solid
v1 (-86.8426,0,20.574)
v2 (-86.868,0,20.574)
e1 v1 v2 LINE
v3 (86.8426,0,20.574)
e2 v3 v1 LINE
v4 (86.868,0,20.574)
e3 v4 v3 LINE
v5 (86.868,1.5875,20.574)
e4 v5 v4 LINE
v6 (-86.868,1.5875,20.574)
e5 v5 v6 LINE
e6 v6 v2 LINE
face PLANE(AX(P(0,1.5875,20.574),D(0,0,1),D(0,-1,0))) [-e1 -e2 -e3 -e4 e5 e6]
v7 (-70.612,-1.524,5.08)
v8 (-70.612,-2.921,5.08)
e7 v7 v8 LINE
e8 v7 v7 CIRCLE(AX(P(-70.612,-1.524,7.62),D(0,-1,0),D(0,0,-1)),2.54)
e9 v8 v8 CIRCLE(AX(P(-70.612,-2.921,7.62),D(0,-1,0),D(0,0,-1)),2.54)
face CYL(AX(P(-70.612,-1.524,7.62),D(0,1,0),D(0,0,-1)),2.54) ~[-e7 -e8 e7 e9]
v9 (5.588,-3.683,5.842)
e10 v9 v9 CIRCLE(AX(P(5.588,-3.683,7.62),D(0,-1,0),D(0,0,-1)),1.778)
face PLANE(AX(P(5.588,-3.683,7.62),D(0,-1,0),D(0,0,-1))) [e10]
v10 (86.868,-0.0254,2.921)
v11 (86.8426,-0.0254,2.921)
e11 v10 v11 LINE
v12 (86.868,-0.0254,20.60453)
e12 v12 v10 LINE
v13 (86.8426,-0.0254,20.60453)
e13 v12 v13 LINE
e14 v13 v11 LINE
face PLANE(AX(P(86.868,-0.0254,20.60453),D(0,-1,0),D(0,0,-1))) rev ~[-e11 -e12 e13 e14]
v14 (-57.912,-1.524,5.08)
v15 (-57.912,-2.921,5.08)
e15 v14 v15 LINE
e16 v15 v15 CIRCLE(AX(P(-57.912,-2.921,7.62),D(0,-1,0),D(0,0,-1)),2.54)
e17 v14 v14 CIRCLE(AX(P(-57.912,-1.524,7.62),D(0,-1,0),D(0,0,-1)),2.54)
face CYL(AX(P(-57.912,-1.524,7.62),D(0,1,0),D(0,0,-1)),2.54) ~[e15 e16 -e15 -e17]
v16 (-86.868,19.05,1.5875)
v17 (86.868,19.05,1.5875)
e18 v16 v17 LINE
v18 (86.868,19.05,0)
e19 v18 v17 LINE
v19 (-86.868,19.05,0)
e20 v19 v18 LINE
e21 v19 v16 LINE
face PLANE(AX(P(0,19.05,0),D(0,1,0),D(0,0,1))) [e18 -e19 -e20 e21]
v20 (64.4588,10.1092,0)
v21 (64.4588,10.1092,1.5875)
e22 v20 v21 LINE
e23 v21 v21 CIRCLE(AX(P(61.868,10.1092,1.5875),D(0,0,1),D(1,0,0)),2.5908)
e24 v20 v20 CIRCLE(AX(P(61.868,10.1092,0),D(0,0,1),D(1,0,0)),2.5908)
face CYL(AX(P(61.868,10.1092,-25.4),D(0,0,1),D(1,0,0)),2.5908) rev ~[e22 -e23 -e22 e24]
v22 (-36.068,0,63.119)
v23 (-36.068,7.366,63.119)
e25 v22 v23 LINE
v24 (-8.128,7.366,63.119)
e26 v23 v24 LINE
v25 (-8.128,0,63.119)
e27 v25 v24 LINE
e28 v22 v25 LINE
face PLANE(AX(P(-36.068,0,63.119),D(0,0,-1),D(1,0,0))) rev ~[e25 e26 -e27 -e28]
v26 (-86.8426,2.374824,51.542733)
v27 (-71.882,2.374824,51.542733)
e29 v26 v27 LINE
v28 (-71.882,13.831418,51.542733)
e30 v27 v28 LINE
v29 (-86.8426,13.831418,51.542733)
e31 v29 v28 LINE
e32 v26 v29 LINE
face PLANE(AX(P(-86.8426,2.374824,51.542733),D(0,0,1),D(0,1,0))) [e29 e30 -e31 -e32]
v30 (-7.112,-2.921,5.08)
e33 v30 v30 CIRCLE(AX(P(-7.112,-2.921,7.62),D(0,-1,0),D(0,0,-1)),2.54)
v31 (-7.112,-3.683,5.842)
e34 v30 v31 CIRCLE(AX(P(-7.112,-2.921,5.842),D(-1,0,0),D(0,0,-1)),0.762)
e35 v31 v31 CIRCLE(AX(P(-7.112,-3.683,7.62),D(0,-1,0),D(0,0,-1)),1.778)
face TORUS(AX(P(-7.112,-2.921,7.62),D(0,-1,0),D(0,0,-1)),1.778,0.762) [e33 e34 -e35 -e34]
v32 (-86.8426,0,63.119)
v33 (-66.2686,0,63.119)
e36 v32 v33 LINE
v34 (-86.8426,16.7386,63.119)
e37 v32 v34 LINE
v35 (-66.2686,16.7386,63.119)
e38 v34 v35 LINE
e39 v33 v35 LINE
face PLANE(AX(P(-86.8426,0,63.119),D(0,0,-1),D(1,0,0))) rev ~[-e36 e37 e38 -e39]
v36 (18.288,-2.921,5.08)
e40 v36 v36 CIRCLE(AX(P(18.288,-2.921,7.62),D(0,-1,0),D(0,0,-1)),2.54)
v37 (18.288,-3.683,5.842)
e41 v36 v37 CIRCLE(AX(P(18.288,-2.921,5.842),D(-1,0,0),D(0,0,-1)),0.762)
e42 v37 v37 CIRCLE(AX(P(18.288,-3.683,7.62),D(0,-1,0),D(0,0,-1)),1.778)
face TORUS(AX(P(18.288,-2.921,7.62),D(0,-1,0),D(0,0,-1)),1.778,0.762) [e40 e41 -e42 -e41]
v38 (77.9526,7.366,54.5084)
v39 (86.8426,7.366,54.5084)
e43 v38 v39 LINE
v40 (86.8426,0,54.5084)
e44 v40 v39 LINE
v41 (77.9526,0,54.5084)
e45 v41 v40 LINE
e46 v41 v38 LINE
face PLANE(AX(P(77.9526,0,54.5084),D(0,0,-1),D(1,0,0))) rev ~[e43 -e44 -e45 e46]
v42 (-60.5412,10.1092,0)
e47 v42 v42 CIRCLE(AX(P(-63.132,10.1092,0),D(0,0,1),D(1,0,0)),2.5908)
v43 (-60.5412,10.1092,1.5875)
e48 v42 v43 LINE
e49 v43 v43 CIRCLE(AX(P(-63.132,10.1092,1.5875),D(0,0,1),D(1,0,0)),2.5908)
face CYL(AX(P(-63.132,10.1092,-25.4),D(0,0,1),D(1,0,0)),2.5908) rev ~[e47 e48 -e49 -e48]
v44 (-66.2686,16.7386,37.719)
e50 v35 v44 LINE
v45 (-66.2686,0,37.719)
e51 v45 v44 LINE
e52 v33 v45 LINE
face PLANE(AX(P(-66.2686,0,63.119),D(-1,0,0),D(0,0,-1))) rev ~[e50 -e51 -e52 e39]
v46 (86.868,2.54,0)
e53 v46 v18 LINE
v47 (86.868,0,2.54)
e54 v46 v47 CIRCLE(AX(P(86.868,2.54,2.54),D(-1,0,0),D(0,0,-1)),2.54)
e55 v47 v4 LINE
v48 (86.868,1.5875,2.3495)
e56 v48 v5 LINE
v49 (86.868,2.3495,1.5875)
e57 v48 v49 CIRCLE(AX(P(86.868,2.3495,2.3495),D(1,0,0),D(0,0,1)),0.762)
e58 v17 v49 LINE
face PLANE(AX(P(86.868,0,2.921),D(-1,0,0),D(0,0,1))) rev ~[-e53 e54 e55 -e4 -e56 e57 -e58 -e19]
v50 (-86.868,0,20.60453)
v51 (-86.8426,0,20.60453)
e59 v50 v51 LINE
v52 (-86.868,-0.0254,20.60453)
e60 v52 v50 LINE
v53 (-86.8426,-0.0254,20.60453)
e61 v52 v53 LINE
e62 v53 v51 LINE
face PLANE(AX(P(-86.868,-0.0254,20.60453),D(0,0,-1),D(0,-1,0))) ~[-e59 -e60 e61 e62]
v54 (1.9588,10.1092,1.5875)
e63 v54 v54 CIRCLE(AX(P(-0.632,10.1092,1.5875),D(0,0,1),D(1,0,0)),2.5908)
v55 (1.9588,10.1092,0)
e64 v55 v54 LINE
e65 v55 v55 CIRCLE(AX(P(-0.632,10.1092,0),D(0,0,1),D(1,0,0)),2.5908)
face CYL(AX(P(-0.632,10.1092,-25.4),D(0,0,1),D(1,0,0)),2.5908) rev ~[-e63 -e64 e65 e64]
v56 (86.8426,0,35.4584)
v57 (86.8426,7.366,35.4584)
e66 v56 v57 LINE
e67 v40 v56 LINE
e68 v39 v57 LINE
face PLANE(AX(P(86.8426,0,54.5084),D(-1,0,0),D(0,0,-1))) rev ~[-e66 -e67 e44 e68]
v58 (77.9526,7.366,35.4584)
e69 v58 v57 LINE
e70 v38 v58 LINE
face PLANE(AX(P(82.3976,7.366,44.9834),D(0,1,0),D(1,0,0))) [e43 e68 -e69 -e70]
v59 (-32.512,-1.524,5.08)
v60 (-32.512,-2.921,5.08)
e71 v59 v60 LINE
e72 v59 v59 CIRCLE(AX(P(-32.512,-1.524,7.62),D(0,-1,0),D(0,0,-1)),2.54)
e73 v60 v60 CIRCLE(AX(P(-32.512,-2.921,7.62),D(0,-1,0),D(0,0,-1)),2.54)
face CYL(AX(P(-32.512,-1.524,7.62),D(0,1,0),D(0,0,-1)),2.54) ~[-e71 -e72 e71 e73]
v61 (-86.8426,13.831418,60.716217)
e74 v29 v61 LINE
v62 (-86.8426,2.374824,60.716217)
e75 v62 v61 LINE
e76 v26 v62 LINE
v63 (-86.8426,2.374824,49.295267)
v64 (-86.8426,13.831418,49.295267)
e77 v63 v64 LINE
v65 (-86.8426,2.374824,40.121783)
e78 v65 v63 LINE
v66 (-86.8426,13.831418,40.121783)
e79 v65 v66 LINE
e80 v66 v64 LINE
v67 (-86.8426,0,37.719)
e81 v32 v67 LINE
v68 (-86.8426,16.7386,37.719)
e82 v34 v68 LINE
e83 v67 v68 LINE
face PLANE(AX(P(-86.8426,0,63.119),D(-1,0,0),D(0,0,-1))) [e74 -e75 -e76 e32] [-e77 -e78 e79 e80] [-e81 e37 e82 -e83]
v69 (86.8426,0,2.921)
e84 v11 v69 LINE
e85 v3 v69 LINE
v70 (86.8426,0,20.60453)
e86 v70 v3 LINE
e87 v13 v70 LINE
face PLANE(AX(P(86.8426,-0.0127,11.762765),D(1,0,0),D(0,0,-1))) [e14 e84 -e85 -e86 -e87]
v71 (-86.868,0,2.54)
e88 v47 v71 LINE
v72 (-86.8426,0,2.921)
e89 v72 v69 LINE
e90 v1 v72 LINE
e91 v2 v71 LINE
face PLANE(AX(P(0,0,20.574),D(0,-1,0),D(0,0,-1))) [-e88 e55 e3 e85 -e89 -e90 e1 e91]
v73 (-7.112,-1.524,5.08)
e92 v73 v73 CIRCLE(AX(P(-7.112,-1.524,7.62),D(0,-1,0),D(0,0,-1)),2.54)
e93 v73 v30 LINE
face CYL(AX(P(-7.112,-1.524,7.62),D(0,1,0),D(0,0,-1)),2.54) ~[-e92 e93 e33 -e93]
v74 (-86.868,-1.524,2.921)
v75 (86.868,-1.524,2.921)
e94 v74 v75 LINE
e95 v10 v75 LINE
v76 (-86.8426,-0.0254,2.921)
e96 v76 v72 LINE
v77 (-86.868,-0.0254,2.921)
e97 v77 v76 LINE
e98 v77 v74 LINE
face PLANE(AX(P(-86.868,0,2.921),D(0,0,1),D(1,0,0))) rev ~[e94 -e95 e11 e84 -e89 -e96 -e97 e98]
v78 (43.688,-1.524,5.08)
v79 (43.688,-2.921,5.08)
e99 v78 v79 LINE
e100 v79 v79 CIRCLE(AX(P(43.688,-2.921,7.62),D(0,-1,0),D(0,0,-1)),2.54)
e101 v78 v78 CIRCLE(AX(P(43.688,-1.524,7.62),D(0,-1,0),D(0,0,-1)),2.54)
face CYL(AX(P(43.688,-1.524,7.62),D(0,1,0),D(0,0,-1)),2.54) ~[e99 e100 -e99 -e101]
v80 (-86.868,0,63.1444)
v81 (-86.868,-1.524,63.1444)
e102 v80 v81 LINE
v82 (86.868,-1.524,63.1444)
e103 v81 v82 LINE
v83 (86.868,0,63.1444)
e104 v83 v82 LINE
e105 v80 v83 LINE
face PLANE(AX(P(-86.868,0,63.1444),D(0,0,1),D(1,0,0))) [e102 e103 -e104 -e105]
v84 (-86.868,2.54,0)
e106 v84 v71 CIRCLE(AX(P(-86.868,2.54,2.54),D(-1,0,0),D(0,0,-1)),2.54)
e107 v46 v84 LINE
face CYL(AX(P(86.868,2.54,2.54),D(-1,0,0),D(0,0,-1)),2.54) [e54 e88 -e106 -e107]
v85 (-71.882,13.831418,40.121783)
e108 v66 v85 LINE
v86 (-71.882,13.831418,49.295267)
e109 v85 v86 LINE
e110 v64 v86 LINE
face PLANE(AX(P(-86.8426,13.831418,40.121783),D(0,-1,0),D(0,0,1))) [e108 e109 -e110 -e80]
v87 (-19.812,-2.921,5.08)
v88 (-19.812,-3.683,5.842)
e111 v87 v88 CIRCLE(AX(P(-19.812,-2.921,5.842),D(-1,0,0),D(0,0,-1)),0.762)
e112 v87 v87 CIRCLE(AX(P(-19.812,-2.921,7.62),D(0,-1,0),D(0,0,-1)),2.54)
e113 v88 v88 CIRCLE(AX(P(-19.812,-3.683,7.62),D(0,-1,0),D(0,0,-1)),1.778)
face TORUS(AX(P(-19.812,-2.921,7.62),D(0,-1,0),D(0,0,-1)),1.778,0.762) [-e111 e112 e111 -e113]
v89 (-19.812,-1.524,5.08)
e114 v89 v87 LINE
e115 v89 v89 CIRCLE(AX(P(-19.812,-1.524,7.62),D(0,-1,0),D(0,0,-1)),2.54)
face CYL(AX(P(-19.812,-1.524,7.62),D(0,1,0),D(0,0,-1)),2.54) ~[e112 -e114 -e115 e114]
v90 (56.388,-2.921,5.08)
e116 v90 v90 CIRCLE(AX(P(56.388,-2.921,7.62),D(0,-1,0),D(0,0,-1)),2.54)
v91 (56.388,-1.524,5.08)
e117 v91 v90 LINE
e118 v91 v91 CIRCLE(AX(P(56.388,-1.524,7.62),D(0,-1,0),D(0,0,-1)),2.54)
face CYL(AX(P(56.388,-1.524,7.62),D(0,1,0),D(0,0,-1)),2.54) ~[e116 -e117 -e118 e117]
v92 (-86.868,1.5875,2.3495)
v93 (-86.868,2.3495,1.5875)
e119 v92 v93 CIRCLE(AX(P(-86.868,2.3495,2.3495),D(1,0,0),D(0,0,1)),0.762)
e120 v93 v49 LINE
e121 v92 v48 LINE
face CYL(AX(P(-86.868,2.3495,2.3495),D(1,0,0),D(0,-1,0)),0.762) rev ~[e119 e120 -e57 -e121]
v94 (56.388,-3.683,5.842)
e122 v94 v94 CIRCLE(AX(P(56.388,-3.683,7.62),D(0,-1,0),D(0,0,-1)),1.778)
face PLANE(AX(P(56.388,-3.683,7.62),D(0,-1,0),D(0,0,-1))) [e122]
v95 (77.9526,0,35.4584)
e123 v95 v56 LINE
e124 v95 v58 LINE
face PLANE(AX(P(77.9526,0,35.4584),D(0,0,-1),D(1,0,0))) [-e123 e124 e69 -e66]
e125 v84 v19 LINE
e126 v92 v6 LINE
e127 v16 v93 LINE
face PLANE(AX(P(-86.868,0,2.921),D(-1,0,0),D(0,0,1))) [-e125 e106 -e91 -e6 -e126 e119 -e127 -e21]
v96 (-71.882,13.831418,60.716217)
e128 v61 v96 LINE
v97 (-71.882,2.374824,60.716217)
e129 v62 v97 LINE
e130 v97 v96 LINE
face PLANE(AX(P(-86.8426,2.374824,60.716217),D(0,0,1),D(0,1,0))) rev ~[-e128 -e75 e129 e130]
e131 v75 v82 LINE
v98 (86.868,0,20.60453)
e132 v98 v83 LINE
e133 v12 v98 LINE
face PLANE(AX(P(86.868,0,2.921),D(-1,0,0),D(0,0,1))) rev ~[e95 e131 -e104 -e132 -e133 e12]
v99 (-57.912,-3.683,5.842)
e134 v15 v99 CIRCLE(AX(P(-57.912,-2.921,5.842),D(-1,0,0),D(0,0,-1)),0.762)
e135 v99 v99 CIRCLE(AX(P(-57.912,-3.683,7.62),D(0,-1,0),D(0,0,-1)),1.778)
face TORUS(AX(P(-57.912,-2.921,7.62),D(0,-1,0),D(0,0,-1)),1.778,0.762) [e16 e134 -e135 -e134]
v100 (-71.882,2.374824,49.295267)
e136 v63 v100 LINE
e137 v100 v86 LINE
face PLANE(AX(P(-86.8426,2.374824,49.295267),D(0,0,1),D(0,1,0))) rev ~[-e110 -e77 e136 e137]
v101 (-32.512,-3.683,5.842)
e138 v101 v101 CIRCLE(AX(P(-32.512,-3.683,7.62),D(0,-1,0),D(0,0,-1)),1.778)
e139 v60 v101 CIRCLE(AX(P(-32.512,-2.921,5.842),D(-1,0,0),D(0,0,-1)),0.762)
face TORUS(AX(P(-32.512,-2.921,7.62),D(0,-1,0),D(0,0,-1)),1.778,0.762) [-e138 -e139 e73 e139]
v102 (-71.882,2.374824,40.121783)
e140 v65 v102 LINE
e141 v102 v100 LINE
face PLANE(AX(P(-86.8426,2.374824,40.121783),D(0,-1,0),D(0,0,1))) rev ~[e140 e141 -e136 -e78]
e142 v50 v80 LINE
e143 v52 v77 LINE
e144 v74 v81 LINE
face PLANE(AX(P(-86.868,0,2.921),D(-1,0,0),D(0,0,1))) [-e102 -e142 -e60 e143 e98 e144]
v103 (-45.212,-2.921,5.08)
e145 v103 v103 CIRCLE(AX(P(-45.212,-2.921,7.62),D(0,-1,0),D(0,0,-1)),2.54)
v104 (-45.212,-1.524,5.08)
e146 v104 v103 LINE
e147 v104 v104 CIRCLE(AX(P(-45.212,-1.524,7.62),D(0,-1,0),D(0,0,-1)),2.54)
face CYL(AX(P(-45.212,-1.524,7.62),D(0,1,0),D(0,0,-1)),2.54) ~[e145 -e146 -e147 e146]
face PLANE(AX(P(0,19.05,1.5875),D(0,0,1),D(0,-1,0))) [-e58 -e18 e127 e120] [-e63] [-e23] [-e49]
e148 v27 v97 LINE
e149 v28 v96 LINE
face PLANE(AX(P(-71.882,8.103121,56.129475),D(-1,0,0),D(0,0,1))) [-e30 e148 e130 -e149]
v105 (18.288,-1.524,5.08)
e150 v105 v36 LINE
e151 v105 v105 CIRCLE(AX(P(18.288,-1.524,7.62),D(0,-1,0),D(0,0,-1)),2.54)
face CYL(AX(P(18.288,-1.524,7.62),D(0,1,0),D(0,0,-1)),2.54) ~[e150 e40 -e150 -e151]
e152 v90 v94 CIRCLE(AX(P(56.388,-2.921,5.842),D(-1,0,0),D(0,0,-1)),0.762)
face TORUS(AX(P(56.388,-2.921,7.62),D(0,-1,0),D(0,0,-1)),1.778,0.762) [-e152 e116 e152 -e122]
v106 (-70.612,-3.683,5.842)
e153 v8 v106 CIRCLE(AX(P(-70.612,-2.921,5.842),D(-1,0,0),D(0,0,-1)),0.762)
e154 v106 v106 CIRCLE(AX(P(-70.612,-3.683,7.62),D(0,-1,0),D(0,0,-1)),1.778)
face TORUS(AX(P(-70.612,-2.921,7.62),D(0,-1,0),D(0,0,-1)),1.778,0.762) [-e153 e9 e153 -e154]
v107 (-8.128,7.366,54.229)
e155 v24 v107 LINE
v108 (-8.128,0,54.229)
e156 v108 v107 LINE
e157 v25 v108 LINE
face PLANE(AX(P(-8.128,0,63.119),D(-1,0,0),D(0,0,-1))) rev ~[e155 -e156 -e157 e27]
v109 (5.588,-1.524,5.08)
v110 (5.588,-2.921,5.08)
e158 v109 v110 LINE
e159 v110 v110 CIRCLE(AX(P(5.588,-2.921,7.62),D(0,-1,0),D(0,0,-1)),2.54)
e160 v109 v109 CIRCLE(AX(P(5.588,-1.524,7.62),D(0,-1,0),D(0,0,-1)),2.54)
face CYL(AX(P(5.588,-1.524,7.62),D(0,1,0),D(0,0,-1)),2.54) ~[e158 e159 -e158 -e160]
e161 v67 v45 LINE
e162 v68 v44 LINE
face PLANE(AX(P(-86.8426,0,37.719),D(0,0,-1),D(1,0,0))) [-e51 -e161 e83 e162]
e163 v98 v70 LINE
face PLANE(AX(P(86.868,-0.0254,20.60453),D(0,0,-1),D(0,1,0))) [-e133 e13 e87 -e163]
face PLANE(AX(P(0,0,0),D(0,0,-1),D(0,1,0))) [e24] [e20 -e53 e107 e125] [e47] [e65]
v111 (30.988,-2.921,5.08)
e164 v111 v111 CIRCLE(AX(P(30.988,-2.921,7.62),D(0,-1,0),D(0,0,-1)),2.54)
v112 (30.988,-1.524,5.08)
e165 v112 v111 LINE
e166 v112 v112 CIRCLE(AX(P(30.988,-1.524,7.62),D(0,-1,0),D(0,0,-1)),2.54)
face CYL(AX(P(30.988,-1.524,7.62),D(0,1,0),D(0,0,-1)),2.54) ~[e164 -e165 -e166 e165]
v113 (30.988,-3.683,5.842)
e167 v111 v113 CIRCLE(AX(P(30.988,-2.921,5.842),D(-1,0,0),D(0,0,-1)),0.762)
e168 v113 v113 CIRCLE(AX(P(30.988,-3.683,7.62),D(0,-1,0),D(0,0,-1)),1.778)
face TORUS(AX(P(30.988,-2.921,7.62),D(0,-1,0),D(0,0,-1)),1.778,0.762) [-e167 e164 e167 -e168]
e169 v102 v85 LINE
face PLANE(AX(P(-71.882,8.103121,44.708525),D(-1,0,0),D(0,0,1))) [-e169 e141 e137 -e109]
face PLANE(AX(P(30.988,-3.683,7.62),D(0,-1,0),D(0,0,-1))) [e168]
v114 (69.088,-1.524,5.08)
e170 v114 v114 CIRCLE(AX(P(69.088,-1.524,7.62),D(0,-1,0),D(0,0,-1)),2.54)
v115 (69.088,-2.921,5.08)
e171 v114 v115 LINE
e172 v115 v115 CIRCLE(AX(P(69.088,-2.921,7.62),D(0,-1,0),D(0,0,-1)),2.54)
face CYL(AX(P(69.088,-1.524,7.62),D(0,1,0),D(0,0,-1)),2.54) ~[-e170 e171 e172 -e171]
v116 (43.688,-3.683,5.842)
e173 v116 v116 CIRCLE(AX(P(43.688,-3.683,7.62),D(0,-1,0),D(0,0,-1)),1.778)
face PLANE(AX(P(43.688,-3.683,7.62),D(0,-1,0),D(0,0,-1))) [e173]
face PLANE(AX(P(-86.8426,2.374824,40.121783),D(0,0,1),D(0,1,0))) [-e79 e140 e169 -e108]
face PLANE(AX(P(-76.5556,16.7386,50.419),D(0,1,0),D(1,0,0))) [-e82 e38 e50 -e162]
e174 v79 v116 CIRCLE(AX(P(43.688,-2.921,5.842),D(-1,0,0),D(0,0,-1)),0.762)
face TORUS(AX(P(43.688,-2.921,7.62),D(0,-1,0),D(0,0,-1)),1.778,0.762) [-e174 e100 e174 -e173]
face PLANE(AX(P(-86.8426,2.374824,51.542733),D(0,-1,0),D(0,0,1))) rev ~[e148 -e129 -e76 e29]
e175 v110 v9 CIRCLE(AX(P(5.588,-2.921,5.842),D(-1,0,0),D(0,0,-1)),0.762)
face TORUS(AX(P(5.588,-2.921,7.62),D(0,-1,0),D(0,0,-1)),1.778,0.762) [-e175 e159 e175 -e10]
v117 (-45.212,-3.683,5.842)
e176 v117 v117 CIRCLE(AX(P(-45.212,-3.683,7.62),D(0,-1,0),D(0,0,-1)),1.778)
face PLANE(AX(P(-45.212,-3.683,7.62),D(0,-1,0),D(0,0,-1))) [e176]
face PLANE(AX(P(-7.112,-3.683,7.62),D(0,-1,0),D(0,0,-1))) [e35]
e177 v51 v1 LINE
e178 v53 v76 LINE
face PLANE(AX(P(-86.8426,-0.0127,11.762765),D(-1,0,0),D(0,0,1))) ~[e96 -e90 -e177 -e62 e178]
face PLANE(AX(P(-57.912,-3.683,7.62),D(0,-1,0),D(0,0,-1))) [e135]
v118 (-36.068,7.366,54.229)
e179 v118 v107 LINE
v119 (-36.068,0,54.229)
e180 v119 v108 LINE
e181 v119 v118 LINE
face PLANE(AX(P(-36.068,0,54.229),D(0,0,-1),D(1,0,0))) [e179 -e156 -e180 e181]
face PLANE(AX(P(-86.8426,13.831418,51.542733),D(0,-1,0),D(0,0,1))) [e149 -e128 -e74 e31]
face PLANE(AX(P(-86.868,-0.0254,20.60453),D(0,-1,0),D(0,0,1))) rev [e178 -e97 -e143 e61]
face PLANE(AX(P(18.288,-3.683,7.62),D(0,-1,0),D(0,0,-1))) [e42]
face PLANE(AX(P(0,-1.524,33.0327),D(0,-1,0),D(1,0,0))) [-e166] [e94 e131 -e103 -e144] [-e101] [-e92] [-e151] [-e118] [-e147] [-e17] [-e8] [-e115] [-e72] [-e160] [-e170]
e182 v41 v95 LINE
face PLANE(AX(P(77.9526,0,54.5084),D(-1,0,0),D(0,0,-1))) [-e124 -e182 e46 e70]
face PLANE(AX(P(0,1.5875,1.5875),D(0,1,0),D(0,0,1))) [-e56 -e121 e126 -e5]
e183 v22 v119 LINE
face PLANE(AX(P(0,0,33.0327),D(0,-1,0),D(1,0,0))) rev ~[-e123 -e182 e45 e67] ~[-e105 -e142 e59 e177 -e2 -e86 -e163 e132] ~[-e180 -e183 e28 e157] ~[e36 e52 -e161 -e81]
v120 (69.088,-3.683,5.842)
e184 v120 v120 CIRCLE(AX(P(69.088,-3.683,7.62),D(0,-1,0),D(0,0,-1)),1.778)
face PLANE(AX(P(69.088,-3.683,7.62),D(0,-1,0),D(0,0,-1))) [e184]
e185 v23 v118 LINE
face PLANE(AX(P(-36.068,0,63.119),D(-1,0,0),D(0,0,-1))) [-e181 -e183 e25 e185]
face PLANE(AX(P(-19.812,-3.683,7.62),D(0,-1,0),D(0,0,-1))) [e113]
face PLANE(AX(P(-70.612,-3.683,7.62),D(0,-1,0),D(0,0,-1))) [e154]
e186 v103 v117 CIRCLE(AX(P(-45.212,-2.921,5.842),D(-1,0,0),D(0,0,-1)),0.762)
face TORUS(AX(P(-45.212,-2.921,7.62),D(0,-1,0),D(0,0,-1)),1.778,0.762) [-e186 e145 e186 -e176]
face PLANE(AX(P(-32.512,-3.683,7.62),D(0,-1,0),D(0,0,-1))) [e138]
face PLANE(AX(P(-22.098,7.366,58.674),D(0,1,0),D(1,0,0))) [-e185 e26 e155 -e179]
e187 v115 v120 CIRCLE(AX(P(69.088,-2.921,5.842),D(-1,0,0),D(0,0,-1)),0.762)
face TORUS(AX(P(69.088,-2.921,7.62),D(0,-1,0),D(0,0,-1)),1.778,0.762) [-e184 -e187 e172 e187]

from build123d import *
from OCP.BRepFilletAPI import BRepFilletAPI_MakeFillet

# Parameters (mm, degrees)
BOSS_EXTRUDE1_DEPTH            = 86.868
FILLET1_R1                     = 2.54
FILLET1_R2                     = 0.762
SKETCH2_W                      = 173.736
SKETCH2_H                      = 60.2234
BOSS_EXTRUDE2_DEPTH            = 1.524
F_6_0_204_DIAMETER_HOLE1_D     = 5.1816
F_6_0_204_DIAMETER_HOLE1_DEPTH = 25.4
F_6_0_204_DIAMETER_HOLE1_TIP   = 1.556709692
SKETCH6_W                      = 8.89
SKETCH6_H                      = 19.05
SKETCH6_W_2                    = 27.94
SKETCH6_H_2                    = 8.89
BOSS_EXTRUDE3_DEPTH            = 7.366
SKETCH7_W                      = 20.574
SKETCH7_H                      = 25.4
BOSS_EXTRUDE4_DEPTH            = 16.7386
SKETCH8_W                      = 9.173483792
SKETCH8_H                      = 11.456594165
CUT_EXTRUDE1_DEPTH             = 14.9606
SKETCH9_R                      = 2.54
BOSS_EXTRUDE5_DEPTH            = 2.159
FILLET2_R                      = 0.762
LPATTERN1_COUNT                = 12
LPATTERN1_PITCH                = 12.7
FILLET2_OF_LPATTERN1_R         = 0.762
SKETCH10_W                     = 17.683529791
SKETCH10_H                     = 0.0254
CUT_EXTRUDE3_DEPTH             = 0.0254


with BuildPart() as part:
    # Sketch1 → Boss-Extrude1 (new, symmetric)
    with BuildSketch(Plane(origin=(0, 0, 0), x_dir=(0, 0, -1), z_dir=(1, 0, 0))):
        Polygon((0, 0), (0, 19.05), (-1.5875, 19.05), (-1.5875, 1.5875), (-20.574, 1.5875), (-20.574, 0), align=None)
    extrude(amount=BOSS_EXTRUDE1_DEPTH, both=True)

    # Fillet1: one fillet with a radius per group of edges: ONE call of the kernel's fillet builder (fillet() takes one radius for all edges)
    fillet1_edges_1 = [part.edges().sort_by_distance(p)[0] for p in [
        (0, 0, 0),
    ]]
    fillet1_edges_2 = [part.edges().sort_by_distance(p)[0] for p in [
        (0, 1.5875, 1.5875),
    ]]
    fillet1 = BRepFilletAPI_MakeFillet(part.part.solid().wrapped)
    for e in fillet1_edges_1:
        fillet1.Add(FILLET1_R1, e.wrapped)
    for e in fillet1_edges_2:
        fillet1.Add(FILLET1_R2, e.wrapped)
    add(Compound.cast(fillet1.Shape()), mode=Mode.REPLACE)

    # Sketch2 → Boss-Extrude2 (add)
    with BuildSketch(Plane.XZ):
        with Locations((0, 33.0327)):
            Rectangle(SKETCH2_W, SKETCH2_H)
    extrude(amount=BOSS_EXTRUDE2_DEPTH)

    # #6 (0.204) Diameter Hole1
    with Locations(Plane(origin=(0, 0, 0), x_dir=(-1, 0, 0), z_dir=(0, 0, -1))):
        with Locations((-61.868, 10.1092), (0.632000006, 10.1092), (63.132, 10.1092)):
            Hole(F_6_0_204_DIAMETER_HOLE1_D / 2, depth=F_6_0_204_DIAMETER_HOLE1_DEPTH)
            with Locations((0, 0, -(F_6_0_204_DIAMETER_HOLE1_DEPTH + F_6_0_204_DIAMETER_HOLE1_TIP / 2))):  # 118° drill point
                Cone(0, F_6_0_204_DIAMETER_HOLE1_D / 2, F_6_0_204_DIAMETER_HOLE1_TIP, mode=Mode.SUBTRACT)

    # Sketch6 → Boss-Extrude3 (add)
    with BuildSketch(Plane(origin=(0, 0, 0), x_dir=(1, 0, 0), z_dir=(0, 1, 0))):
        with Locations((82.3976, -44.9834)):
            Rectangle(SKETCH6_W, SKETCH6_H)
        with Locations((-22.098, -58.674)):
            Rectangle(SKETCH6_W_2, SKETCH6_H_2)
    extrude(amount=BOSS_EXTRUDE3_DEPTH)

    # Sketch7 → Boss-Extrude4 (add)
    with BuildSketch(Plane(origin=(0, 0, 0), x_dir=(1, 0, 0), z_dir=(0, 1, 0))):
        with Locations((-76.5556, -50.419)):
            Rectangle(SKETCH7_W, SKETCH7_H)
    extrude(amount=BOSS_EXTRUDE4_DEPTH)

    # Sketch8 → Cut-Extrude1 (cut)
    with BuildSketch(Plane.ZY.offset(86.8426)):
        with Locations((44.708525183, 8.103120798)):
            Rectangle(SKETCH8_W, SKETCH8_H)
        with Locations((56.129474817, 8.103120798)):
            Rectangle(SKETCH8_W, SKETCH8_H)
    extrude(amount=-CUT_EXTRUDE1_DEPTH, mode=Mode.SUBTRACT)

    # Sketch9 → Boss-Extrude5 (add)
    with BuildSketch(Plane.XZ.offset(1.524)):
        with Locations((69.088, 7.62)):
            Circle(SKETCH9_R)
    boss_extrude5 = extrude(amount=BOSS_EXTRUDE5_DEPTH)

    # Fillet2
    fillet2_edges = [part.edges().sort_by_distance(p)[0] for p in [
        (66.548, -3.683, 7.62),
    ]]
    fillet(fillet2_edges, radius=FILLET2_R)

    # LPattern1: Boss-Extrude5 ×12
    with Locations(*[(-i * LPATTERN1_PITCH, 0, 0) for i in range(1, LPATTERN1_COUNT)]):
        add(boss_extrude5)

    # Fillet2 of LPattern1
    fillet2_of_lpattern1_edges = [part.edges().sort_by_distance(p)[0] for p in [
        (53.848, -3.683, 7.62),
        (41.148, -3.683, 7.62),
        (28.448, -3.683, 7.62),
        (15.748, -3.683, 7.62),
        (3.048, -3.683, 7.62),
        (-9.652, -3.683, 7.62),
        (-22.352, -3.683, 7.62),
        (-35.052, -3.683, 7.62),
        (-47.752, -3.683, 7.62),
        (-60.452, -3.683, 7.62),
        (-73.152, -3.683, 7.62),
    ]]
    fillet(fillet2_of_lpattern1_edges, radius=FILLET2_OF_LPATTERN1_R)

    # Sketch10 → Cut-Extrude3 (cut)
    with BuildSketch(Plane(origin=(86.868, 0, 0), x_dir=(0, 0, -1), z_dir=(1, 0, 0))):
        with Locations((-11.762764896, -0.0127)):
            Rectangle(SKETCH10_W, SKETCH10_H)
    cut_extrude3 = extrude(amount=-CUT_EXTRUDE3_DEPTH, mode=Mode.SUBTRACT)

    # Mirror1: Cut-Extrude3 across plane
    add(cut_extrude3.mirror(Plane(origin=(0, 0, 0), x_dir=(0, 0, 1), z_dir=(1, 0, 0))), mode=Mode.SUBTRACT)


solid = part.part
